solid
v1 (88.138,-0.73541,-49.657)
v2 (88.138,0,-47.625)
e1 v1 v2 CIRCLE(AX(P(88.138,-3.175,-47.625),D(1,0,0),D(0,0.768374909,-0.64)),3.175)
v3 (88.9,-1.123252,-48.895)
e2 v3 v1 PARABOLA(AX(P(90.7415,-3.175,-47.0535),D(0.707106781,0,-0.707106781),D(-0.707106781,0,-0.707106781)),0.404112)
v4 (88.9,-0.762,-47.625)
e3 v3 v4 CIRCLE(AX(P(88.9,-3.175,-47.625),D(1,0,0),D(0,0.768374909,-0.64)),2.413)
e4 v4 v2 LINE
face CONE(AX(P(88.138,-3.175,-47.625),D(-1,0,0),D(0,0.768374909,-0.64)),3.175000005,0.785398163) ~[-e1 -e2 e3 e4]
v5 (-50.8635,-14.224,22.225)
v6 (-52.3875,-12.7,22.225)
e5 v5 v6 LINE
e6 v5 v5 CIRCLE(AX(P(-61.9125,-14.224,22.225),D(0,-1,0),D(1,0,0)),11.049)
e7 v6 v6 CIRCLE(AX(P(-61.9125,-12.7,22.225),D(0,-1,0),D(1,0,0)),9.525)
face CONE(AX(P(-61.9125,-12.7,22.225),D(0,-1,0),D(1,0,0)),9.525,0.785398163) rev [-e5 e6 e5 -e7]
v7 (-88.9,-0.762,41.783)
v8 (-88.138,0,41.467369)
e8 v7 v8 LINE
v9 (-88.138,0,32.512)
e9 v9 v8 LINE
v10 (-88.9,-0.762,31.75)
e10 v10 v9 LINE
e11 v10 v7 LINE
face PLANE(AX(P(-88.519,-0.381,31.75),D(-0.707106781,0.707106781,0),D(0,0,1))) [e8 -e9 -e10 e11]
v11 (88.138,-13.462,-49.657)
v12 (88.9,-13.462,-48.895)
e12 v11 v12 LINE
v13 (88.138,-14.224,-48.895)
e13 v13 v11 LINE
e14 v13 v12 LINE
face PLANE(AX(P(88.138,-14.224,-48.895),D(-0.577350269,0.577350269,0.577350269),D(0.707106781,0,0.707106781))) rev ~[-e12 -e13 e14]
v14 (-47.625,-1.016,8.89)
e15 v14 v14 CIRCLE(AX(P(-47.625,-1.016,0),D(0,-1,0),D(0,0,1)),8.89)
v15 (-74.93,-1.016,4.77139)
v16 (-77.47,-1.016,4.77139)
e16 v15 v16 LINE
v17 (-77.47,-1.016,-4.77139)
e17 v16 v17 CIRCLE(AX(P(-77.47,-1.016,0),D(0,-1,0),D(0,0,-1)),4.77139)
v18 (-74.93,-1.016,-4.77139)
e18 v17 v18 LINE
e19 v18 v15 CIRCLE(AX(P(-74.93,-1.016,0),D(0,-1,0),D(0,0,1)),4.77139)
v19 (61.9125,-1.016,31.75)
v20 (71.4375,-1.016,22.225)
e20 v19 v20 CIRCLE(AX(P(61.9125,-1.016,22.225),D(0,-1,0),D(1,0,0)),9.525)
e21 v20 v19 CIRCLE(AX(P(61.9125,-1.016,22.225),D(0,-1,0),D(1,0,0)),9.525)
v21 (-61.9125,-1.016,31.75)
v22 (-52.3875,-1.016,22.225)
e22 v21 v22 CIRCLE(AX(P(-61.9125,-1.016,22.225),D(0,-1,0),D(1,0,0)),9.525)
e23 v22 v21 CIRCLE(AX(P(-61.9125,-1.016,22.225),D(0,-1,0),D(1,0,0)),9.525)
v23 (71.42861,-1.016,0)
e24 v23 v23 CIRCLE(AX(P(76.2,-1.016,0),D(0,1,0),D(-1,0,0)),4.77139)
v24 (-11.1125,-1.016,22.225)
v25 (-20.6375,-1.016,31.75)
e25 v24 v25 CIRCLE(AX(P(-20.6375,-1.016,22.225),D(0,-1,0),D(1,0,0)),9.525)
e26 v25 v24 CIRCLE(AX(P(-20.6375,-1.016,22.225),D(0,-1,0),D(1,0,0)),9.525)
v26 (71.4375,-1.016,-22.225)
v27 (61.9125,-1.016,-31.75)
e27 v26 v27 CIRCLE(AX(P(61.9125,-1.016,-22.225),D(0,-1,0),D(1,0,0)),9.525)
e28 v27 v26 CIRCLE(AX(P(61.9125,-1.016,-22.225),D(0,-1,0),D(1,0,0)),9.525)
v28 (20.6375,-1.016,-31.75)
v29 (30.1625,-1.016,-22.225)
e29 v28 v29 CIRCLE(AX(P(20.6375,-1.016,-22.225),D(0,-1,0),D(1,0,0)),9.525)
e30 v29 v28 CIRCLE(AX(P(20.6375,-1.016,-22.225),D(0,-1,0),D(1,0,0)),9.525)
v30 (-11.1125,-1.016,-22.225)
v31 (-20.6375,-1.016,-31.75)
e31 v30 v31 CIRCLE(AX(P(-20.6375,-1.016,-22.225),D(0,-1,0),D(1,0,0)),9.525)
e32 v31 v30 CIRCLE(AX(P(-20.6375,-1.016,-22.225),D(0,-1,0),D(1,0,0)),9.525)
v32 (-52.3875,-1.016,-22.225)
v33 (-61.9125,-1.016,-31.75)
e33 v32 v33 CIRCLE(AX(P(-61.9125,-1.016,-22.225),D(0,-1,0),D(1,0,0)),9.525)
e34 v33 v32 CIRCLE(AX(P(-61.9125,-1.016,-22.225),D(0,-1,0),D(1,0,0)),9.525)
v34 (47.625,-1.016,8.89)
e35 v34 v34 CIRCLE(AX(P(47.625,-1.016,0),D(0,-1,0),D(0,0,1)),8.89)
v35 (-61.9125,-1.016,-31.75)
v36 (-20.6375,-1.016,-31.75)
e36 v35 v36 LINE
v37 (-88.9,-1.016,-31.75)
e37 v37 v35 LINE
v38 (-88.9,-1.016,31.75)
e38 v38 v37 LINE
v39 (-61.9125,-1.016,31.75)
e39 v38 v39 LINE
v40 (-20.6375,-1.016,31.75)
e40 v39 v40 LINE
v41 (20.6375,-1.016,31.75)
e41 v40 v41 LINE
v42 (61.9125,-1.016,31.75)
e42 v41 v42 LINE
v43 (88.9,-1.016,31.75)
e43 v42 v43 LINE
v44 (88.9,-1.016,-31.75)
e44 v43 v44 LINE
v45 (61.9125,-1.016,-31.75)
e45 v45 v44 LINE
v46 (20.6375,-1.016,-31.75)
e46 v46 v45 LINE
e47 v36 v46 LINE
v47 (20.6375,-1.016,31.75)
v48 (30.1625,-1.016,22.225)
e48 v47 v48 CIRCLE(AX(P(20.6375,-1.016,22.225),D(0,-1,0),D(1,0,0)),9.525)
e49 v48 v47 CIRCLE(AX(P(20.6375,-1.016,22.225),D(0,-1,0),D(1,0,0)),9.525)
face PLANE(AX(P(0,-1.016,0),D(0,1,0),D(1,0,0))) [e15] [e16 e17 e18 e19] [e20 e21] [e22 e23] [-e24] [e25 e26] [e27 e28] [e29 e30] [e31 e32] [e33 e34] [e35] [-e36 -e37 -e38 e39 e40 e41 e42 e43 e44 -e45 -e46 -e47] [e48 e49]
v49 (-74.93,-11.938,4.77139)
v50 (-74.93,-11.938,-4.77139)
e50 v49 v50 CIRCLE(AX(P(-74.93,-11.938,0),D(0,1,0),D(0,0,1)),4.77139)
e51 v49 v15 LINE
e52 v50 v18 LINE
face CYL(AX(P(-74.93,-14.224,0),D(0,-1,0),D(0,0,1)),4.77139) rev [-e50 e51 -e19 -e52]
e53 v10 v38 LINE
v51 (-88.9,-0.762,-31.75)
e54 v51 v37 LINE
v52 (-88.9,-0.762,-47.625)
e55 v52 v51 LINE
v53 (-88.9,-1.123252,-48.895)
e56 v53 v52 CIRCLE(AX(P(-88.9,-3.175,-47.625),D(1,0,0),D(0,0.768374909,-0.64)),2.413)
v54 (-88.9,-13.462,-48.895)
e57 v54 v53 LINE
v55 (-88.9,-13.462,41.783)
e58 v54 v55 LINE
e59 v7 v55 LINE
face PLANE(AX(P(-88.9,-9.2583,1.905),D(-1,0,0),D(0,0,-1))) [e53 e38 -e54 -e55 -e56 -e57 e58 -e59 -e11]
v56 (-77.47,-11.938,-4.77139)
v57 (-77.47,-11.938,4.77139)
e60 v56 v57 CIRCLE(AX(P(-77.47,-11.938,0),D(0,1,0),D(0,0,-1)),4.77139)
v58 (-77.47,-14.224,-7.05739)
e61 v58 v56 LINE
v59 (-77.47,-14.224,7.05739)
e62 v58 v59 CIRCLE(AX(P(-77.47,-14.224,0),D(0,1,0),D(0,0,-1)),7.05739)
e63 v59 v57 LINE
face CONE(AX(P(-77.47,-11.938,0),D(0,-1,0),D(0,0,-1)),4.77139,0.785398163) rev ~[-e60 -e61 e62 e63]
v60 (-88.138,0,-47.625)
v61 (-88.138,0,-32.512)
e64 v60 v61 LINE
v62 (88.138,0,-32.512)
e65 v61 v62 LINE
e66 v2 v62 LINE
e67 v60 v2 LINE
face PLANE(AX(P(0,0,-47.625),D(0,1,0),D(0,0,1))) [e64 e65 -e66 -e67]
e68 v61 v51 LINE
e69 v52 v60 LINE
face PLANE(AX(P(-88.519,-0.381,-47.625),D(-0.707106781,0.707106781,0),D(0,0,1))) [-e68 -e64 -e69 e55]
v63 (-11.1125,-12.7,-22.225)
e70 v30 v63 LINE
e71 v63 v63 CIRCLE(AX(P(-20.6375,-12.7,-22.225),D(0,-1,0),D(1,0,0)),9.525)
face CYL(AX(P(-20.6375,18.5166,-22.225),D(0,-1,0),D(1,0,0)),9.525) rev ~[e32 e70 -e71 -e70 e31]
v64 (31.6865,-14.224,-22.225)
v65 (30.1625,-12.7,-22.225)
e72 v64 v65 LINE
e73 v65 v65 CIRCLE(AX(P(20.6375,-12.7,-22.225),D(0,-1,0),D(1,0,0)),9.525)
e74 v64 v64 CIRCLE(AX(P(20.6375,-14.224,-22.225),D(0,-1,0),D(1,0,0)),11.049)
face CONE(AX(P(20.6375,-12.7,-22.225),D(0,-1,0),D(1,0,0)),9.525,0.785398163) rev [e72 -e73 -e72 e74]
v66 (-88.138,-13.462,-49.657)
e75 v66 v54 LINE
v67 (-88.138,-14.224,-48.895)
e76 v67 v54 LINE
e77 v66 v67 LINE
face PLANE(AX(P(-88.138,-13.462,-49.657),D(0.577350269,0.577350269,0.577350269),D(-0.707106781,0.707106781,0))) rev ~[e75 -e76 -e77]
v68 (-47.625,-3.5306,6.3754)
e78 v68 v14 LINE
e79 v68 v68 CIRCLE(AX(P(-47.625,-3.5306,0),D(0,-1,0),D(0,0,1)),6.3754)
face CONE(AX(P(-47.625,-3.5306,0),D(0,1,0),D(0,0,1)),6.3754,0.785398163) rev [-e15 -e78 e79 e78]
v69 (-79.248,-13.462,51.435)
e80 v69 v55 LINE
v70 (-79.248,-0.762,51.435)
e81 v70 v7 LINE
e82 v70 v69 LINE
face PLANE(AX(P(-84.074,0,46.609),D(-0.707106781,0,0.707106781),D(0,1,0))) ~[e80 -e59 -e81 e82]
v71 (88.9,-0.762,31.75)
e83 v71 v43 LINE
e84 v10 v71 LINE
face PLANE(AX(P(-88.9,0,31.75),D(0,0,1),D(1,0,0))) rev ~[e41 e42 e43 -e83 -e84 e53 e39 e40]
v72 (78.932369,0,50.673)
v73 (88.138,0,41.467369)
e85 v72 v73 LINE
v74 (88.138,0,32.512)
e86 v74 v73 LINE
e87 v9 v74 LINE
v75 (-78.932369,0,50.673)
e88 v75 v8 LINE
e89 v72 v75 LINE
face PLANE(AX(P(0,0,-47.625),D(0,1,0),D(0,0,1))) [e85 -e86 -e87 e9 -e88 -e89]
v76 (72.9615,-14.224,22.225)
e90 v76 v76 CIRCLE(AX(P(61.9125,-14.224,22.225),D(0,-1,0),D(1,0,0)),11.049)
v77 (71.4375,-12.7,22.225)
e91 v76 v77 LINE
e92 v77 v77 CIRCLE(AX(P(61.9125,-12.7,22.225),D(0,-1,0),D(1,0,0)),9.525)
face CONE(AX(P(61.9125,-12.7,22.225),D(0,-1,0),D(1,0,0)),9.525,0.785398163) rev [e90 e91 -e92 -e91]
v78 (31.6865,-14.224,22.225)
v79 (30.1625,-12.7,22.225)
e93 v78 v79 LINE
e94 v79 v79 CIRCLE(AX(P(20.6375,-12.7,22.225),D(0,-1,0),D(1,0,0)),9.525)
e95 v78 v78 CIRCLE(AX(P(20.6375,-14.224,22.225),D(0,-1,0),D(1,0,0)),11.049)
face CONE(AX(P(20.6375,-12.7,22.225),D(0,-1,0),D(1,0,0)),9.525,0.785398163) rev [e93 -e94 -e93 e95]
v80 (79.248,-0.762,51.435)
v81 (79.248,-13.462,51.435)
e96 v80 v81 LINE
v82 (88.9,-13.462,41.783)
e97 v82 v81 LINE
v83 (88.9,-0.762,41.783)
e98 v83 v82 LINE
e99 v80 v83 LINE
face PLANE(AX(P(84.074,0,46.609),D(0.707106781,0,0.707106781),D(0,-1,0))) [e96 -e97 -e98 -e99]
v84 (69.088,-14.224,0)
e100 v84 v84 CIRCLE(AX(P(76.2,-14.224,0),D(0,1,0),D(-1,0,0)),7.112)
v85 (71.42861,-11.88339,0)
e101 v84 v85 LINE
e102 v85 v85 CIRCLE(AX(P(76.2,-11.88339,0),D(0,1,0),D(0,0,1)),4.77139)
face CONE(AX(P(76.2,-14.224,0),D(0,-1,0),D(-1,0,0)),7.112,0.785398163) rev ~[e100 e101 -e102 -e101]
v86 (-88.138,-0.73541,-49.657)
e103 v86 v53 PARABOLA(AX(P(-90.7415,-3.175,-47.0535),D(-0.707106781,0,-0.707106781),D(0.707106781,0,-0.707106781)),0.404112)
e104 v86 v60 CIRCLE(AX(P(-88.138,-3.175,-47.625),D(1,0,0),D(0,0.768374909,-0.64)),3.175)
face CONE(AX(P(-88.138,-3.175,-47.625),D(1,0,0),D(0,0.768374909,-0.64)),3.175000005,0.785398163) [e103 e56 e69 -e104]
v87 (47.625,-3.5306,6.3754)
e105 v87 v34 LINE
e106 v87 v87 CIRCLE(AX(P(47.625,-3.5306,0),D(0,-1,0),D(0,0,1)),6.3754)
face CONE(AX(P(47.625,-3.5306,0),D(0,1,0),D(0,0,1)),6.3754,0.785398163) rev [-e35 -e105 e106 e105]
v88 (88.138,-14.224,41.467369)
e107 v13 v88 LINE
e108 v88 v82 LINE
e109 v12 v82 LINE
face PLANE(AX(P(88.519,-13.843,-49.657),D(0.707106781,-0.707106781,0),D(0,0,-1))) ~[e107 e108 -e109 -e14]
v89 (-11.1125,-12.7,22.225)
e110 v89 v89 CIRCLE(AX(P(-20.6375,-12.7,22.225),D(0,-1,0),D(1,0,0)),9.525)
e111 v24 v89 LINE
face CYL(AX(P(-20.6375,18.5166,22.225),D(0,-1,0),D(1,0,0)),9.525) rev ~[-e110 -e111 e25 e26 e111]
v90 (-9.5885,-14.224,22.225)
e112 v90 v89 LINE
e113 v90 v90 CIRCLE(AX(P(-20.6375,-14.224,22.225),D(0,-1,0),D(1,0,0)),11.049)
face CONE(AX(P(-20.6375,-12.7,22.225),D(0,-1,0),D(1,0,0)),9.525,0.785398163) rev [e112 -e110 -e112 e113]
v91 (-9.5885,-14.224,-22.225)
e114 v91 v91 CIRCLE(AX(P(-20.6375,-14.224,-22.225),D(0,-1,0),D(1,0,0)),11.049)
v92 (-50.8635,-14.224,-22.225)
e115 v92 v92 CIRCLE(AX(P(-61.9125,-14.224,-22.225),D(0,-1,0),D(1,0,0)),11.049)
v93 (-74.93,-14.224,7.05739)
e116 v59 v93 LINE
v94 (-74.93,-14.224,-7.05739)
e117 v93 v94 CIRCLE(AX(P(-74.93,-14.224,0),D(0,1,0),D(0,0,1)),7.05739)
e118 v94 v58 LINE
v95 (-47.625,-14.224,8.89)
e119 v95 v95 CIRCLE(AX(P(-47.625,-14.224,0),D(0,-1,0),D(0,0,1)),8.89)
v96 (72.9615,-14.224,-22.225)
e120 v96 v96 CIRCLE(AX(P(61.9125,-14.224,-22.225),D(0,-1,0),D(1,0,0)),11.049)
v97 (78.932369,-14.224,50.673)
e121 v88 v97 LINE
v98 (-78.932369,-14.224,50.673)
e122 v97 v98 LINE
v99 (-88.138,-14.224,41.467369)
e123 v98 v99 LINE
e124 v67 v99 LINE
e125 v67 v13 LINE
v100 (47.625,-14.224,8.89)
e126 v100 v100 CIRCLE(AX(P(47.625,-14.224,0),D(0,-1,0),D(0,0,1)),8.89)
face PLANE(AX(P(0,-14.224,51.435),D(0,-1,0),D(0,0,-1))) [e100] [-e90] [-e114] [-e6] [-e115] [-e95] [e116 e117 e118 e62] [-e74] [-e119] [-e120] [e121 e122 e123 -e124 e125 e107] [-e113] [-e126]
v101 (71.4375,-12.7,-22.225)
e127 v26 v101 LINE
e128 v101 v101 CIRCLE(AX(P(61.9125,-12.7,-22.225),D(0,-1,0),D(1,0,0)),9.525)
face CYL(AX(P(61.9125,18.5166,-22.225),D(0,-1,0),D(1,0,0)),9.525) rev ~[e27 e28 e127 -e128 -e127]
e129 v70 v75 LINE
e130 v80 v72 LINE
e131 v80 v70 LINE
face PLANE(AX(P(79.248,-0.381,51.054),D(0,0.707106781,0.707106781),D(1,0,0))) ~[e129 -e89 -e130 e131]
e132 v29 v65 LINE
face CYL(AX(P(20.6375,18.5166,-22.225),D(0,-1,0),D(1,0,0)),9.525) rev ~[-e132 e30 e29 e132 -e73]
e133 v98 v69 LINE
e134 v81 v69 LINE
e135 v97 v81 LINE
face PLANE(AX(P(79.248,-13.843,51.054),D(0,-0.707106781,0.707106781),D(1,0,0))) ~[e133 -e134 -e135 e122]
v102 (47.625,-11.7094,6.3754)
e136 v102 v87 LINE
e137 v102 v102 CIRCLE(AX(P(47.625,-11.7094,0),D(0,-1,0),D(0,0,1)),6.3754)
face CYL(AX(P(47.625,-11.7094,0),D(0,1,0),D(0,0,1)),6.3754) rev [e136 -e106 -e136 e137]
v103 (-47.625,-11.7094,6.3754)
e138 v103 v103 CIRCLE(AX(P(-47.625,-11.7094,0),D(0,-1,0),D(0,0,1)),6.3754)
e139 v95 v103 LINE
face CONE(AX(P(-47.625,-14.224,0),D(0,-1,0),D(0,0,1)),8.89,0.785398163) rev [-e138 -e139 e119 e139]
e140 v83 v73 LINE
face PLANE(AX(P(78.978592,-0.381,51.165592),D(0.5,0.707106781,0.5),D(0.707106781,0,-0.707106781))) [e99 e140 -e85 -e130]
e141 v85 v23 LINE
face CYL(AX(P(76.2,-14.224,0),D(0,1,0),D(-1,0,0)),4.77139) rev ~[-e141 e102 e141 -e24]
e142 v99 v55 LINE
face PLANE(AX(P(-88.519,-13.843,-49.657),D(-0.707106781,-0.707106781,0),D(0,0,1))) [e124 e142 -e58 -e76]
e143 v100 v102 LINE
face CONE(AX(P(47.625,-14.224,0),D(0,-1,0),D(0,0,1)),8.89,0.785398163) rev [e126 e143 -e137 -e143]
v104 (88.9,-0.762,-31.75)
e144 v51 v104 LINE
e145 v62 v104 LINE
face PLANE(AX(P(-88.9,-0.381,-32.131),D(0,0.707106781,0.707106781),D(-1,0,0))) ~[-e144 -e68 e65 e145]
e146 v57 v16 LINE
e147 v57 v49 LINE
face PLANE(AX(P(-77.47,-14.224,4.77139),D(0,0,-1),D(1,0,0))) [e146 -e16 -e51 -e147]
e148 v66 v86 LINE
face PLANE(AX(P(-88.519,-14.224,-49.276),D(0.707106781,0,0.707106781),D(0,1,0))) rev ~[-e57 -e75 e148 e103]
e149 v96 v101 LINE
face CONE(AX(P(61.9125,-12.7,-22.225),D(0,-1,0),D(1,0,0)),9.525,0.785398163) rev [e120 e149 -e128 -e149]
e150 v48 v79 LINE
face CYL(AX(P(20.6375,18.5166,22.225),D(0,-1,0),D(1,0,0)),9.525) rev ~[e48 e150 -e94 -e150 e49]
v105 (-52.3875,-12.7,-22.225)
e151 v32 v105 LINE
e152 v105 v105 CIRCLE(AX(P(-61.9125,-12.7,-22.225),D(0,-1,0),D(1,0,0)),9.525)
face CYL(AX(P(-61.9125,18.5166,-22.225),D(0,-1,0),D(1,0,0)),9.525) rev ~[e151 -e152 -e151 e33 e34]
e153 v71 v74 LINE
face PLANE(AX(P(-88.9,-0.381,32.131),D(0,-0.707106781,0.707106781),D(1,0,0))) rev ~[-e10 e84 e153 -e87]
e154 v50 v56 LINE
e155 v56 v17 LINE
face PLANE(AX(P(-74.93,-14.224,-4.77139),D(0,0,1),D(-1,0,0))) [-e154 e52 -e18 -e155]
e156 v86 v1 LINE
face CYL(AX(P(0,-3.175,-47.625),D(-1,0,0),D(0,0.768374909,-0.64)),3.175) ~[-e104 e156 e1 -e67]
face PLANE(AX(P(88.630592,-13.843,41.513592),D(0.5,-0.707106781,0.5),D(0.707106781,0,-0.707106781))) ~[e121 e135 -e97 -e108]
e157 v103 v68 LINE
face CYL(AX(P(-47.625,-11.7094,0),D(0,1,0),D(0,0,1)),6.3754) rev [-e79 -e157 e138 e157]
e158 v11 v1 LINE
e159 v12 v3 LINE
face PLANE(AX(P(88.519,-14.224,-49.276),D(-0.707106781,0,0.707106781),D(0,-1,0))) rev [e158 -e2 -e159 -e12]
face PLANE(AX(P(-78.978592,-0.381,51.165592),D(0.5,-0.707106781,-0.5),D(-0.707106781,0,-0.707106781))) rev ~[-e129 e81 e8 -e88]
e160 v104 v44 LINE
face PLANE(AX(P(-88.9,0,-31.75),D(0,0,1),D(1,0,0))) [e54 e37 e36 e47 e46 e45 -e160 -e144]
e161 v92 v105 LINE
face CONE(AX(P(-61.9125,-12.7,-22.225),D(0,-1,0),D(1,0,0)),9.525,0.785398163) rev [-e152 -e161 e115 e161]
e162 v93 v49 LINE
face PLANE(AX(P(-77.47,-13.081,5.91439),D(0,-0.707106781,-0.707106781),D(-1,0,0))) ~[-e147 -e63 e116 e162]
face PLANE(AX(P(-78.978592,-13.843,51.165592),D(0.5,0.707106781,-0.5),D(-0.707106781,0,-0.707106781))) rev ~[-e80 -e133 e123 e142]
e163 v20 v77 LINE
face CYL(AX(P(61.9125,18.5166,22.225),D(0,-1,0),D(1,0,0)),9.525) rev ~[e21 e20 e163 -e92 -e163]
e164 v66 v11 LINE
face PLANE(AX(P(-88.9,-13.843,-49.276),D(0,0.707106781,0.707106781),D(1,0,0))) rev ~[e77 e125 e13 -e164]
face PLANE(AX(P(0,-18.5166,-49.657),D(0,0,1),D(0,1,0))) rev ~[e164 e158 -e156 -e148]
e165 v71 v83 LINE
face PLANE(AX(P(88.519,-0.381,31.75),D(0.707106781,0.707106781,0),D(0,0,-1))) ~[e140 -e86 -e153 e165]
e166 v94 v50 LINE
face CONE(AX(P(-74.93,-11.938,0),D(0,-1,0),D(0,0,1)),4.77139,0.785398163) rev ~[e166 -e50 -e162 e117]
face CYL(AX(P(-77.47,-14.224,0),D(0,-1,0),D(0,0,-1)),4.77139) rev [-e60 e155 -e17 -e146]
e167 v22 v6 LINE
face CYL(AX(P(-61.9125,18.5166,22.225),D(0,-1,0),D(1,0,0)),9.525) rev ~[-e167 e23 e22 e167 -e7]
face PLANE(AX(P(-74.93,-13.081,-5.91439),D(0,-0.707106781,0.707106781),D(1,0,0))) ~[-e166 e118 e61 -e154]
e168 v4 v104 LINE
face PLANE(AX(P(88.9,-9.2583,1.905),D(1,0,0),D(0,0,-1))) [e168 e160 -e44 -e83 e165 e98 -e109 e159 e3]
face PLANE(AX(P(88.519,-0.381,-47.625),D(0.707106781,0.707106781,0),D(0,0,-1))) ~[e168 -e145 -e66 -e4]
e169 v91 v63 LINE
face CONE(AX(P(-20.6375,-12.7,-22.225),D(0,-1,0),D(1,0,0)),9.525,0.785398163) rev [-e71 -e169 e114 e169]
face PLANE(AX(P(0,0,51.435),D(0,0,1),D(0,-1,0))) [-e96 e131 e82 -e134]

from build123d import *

# Parameters (mm, degrees)
EXTRUDE1_DEPTH                         = 88.9
EXTRUDE5_REACH                         = 90.9
EXTRUDE5_DIRECTION_2_REACH             = 90.9
F_3_4_0_75_DIAMETER_HOLE1_D            = 19.05
F_3_4_0_75_DIAMETER_HOLE1_DEPTH        = 18.5166
SKETCH6_W                              = 177.8
SKETCH6_H                              = 63.5
EXTRUDE2_DEPTH                         = 1.016
CHAMFER10_SIZE                         = 9.652
SKETCH35_W                             = 101.092
SKETCH35_H                             = 4.2926
EXTRUDE11_DEPTH                        = 89.9
EXTRUDE11_DEPTH_BACK                   = 89.9
F_3_8_0_375_DIAMETER_HOLE1_D           = 9.54278
F_3_8_0_375_DIAMETER_HOLE1_CSINK_D     = 14.224
F_3_8_0_375_DIAMETER_HOLE1_CSINK_ANGLE = 90
EXTRUDE8_DEPTH                         = 15.224
CHAMFER13_SIZE                         = 2.286
F_1_2_0_5_DIAMETER_HOLE4_AT_2_COUNT    = 2
F_1_2_0_5_DIAMETER_HOLE4_AT_2_PITCH    = 95.25
CHAMFER16_SIZE                         = 0.762
CHAMFER19_SIZE                         = 1.524


with BuildPart() as part:
    # Sketch1 → Extrude1 (new body, symmetric)
    with BuildSketch(Plane(origin=(0, 0, 0), x_dir=(0, 0, -1), z_dir=(1, 0, 0))):
        Polygon((-47.625, 0), (-51.435, 0), (-51.435, -18.5166), (-47.625, -18.5166), (47.625, -18.5166), (47.625, 0), align=None)
    extrude(amount=EXTRUDE1_DEPTH, both=True)

    # Extrude5: up to this face of the body (flat: up to its plane)
    extrude5_end = Plane(part.part.faces().sort_by_distance((-88.9, -9.2583, 1.905))[0])
    # Sketch10 → Extrude5 (add, up to the picked face)
    with BuildSketch(Plane(origin=(0, 0, 0), x_dir=(0, 0, -1), z_dir=(1, 0, 0)), mode=Mode.PRIVATE) as extrude5_sk1:
        with BuildLine():
            Line((47.625, 0), (47.625, -18.5166))
            Line((47.625, -18.5166), (49.657, -18.5166))
            Line((49.657, -18.5166), (49.657, -0.735409666))
            ThreePointArc((49.657, -0.735409666), (48.705491945, -0.189508055), (47.625, 0))
        make_face()
    extrude5_tool1 = split(extrude(extrude5_sk1.sketch, amount=-EXTRUDE5_REACH, mode=Mode.PRIVATE), bisect_by=extrude5_end, keep=Keep.BOTH, mode=Mode.PRIVATE)
    add(extrude5_tool1.solids().sort_by(Axis((0, -9.373301, -48.63438), (-1, 0, 0)))[0])

    # Extrude5 direction 2: up to this face of the body (flat: up to its plane)
    extrude5_direction_2_end = Plane(part.part.faces().sort_by_distance((88.9, -9.2583, 1.905))[0])
    # Sketch10 → Extrude5 direction 2 (add, up to the picked face)
    with BuildSketch(Plane(origin=(0, 0, 0), x_dir=(0, 0, -1), z_dir=(1, 0, 0)), mode=Mode.PRIVATE) as extrude5_direction_2_sk1:
        with BuildLine():
            Line((47.625, 0), (47.625, -18.5166))
            Line((47.625, -18.5166), (49.657, -18.5166))
            Line((49.657, -18.5166), (49.657, -0.735409666))
            ThreePointArc((49.657, -0.735409666), (48.705491945, -0.189508055), (47.625, 0))
        make_face()
    extrude5_direction_2_tool1 = split(extrude(extrude5_direction_2_sk1.sketch, amount=EXTRUDE5_DIRECTION_2_REACH, mode=Mode.PRIVATE), bisect_by=extrude5_direction_2_end, keep=Keep.BOTH, mode=Mode.PRIVATE)
    add(extrude5_direction_2_tool1.solids().sort_by(Axis((0, -9.373301, -48.63438), (1, 0, 0)))[0])

    # 3/4 (0.75) Diameter Hole1
    with Locations(Plane(origin=(100.583096031, 0, 72.51255066), x_dir=(-1, 0, 0), z_dir=(0, 1, 0))):
        with Locations((162.495596031, -94.73755066), (121.220596031, -94.73755066), (79.945596031, -94.73755066), (38.670596031, -94.73755066), (79.945596031, -50.28755066), (121.220596031, -50.28755066), (162.495596031, -50.28755066), (38.670596031, -50.28755066)):
            Hole(F_3_4_0_75_DIAMETER_HOLE1_D / 2, depth=F_3_4_0_75_DIAMETER_HOLE1_DEPTH)

    # Sketch6 → Extrude2 (cut)
    with BuildSketch(Plane(origin=(0, 0, 0), x_dir=(1, 0, 0), z_dir=(0, 1, 0))):
        Rectangle(SKETCH6_W, SKETCH6_H)
    extrude(amount=-EXTRUDE2_DEPTH, mode=Mode.SUBTRACT)

    # Chamfer10
    chamfer10_edges = [part.edges().sort_by_distance(p)[0] for p in [
        (88.9, -9.2583, 51.435),
        (-88.9, -9.2583, 51.435),
    ]]
    chamfer(chamfer10_edges, length=CHAMFER10_SIZE)

    # Sketch35 → Extrude11 (cut, two sides)
    with BuildSketch(Plane(origin=(0, 0, 0), x_dir=(0, 0, -1), z_dir=(1, 0, 0))) as extrude11_sk:
        with Locations((-0.889, -16.3703)):
            Rectangle(SKETCH35_W, SKETCH35_H)
    extrude(amount=EXTRUDE11_DEPTH, mode=Mode.SUBTRACT)
    extrude(extrude11_sk.sketch, amount=-EXTRUDE11_DEPTH_BACK, mode=Mode.SUBTRACT)

    # 3/8 (0.375) Diameter Hole1 (through all)
    with Locations(Plane(origin=(11.630068396, -14.224, 20.686230534), x_dir=(1, 0, 0), z_dir=(0, -1, 0))):
        with Locations((64.569931604, -20.686230534)):
            CounterSinkHole(F_3_8_0_375_DIAMETER_HOLE1_D / 2, F_3_8_0_375_DIAMETER_HOLE1_CSINK_D / 2, counter_sink_angle=F_3_8_0_375_DIAMETER_HOLE1_CSINK_ANGLE)

    # Sketch19 → Extrude8 (cut, through all)
    with BuildSketch(Plane.XZ.offset(14.224)):
        with BuildLine():
            Line((-77.47, 4.77139), (-74.93, 4.77139))
            ThreePointArc((-74.93, 4.77139), (-70.15861, 0), (-74.93, -4.77139))
            Line((-74.93, -4.77139), (-77.47, -4.77139))
            ThreePointArc((-77.47, -4.77139), (-82.24139, 0), (-77.47, 4.77139))
        make_face()
    extrude(amount=-EXTRUDE8_DEPTH, mode=Mode.SUBTRACT)

    # Chamfer13
    chamfer13_edges = [part.edges().sort_by_distance(p)[0] for p in [
        (-82.24139, -14.224, 0),
        (-76.2, -14.224, -4.77139),
        (-70.15861, -14.224, 0),
        (-76.2, -14.224, 4.77139),
    ]]
    chamfer(chamfer13_edges, length=CHAMFER13_SIZE)

    # Sketch26 → 1/2 (0.5) Diameter Hole4 (revolve, cut)
    with BuildSketch(Plane(origin=(-47.625, -1.016, 0), x_dir=(0, 0, 1), z_dir=(1, 0, 0))):
        Polygon((0, 0), (0, 13.208), (8.89, 13.208), (6.3754, 10.6934), (6.3754, 2.5146), (8.89, 0), align=None)
    f_1_2_0_5_diameter_hole4 = revolve(axis=Axis((-47.625, 5.334, 0), (0, -1, 0)), mode=Mode.SUBTRACT)

    # 1/2 (0.5) Diameter Hole4 at 2: 1/2 (0.5) Diameter Hole4 ×2
    with Locations(*[(i * F_1_2_0_5_DIAMETER_HOLE4_AT_2_PITCH, 0, 0) for i in range(1, F_1_2_0_5_DIAMETER_HOLE4_AT_2_COUNT)]):
        add(f_1_2_0_5_diameter_hole4, mode=Mode.SUBTRACT)

    # Chamfer16
    chamfer16_edges = [part.edges().sort_by_distance(p)[0] for p in [
        (0, 0, 31.75),
        (0, 0, -31.75),
        (88.9, 0, -39.6875),
        (0, 0, 51.435),
        (-84.074, 0, 46.609),
        (84.074, 0, 46.609),
        (-84.074, -14.224, 46.609),
        (88.9, -7.479704833, -49.657),
        (-88.9, -14.224, -3.937),
        (0, -14.224, 51.435),
        (84.074, -14.224, 46.609),
        (0, -14.224, -49.657),
        (88.9, -14.224, -3.937),
        (-88.9, -7.479704833, -49.657),
        (-88.9, -0.189508055, -48.705491945),
        (88.9, -0.189508055, -48.705491945),
        (-88.9, 0, -39.6875),
        (-88.9, 0, 36.7665),
        (88.9, 0, 36.7665),
    ]]
    chamfer(chamfer16_edges, length=CHAMFER16_SIZE)

    # Chamfer19
    chamfer19_edges = [part.edges().sort_by_distance(p)[0] for p in [
        (-71.4375, -14.224, 22.225),
        (11.1125, -14.224, 22.225),
        (11.1125, -14.224, -22.225),
        (-71.4375, -14.224, -22.225),
        (-30.1625, -14.224, -22.225),
        (52.3875, -14.224, -22.225),
        (-30.1625, -14.224, 22.225),
        (52.3875, -14.224, 22.225),
    ]]
    chamfer(chamfer19_edges, length=CHAMFER19_SIZE)


solid = part.part
